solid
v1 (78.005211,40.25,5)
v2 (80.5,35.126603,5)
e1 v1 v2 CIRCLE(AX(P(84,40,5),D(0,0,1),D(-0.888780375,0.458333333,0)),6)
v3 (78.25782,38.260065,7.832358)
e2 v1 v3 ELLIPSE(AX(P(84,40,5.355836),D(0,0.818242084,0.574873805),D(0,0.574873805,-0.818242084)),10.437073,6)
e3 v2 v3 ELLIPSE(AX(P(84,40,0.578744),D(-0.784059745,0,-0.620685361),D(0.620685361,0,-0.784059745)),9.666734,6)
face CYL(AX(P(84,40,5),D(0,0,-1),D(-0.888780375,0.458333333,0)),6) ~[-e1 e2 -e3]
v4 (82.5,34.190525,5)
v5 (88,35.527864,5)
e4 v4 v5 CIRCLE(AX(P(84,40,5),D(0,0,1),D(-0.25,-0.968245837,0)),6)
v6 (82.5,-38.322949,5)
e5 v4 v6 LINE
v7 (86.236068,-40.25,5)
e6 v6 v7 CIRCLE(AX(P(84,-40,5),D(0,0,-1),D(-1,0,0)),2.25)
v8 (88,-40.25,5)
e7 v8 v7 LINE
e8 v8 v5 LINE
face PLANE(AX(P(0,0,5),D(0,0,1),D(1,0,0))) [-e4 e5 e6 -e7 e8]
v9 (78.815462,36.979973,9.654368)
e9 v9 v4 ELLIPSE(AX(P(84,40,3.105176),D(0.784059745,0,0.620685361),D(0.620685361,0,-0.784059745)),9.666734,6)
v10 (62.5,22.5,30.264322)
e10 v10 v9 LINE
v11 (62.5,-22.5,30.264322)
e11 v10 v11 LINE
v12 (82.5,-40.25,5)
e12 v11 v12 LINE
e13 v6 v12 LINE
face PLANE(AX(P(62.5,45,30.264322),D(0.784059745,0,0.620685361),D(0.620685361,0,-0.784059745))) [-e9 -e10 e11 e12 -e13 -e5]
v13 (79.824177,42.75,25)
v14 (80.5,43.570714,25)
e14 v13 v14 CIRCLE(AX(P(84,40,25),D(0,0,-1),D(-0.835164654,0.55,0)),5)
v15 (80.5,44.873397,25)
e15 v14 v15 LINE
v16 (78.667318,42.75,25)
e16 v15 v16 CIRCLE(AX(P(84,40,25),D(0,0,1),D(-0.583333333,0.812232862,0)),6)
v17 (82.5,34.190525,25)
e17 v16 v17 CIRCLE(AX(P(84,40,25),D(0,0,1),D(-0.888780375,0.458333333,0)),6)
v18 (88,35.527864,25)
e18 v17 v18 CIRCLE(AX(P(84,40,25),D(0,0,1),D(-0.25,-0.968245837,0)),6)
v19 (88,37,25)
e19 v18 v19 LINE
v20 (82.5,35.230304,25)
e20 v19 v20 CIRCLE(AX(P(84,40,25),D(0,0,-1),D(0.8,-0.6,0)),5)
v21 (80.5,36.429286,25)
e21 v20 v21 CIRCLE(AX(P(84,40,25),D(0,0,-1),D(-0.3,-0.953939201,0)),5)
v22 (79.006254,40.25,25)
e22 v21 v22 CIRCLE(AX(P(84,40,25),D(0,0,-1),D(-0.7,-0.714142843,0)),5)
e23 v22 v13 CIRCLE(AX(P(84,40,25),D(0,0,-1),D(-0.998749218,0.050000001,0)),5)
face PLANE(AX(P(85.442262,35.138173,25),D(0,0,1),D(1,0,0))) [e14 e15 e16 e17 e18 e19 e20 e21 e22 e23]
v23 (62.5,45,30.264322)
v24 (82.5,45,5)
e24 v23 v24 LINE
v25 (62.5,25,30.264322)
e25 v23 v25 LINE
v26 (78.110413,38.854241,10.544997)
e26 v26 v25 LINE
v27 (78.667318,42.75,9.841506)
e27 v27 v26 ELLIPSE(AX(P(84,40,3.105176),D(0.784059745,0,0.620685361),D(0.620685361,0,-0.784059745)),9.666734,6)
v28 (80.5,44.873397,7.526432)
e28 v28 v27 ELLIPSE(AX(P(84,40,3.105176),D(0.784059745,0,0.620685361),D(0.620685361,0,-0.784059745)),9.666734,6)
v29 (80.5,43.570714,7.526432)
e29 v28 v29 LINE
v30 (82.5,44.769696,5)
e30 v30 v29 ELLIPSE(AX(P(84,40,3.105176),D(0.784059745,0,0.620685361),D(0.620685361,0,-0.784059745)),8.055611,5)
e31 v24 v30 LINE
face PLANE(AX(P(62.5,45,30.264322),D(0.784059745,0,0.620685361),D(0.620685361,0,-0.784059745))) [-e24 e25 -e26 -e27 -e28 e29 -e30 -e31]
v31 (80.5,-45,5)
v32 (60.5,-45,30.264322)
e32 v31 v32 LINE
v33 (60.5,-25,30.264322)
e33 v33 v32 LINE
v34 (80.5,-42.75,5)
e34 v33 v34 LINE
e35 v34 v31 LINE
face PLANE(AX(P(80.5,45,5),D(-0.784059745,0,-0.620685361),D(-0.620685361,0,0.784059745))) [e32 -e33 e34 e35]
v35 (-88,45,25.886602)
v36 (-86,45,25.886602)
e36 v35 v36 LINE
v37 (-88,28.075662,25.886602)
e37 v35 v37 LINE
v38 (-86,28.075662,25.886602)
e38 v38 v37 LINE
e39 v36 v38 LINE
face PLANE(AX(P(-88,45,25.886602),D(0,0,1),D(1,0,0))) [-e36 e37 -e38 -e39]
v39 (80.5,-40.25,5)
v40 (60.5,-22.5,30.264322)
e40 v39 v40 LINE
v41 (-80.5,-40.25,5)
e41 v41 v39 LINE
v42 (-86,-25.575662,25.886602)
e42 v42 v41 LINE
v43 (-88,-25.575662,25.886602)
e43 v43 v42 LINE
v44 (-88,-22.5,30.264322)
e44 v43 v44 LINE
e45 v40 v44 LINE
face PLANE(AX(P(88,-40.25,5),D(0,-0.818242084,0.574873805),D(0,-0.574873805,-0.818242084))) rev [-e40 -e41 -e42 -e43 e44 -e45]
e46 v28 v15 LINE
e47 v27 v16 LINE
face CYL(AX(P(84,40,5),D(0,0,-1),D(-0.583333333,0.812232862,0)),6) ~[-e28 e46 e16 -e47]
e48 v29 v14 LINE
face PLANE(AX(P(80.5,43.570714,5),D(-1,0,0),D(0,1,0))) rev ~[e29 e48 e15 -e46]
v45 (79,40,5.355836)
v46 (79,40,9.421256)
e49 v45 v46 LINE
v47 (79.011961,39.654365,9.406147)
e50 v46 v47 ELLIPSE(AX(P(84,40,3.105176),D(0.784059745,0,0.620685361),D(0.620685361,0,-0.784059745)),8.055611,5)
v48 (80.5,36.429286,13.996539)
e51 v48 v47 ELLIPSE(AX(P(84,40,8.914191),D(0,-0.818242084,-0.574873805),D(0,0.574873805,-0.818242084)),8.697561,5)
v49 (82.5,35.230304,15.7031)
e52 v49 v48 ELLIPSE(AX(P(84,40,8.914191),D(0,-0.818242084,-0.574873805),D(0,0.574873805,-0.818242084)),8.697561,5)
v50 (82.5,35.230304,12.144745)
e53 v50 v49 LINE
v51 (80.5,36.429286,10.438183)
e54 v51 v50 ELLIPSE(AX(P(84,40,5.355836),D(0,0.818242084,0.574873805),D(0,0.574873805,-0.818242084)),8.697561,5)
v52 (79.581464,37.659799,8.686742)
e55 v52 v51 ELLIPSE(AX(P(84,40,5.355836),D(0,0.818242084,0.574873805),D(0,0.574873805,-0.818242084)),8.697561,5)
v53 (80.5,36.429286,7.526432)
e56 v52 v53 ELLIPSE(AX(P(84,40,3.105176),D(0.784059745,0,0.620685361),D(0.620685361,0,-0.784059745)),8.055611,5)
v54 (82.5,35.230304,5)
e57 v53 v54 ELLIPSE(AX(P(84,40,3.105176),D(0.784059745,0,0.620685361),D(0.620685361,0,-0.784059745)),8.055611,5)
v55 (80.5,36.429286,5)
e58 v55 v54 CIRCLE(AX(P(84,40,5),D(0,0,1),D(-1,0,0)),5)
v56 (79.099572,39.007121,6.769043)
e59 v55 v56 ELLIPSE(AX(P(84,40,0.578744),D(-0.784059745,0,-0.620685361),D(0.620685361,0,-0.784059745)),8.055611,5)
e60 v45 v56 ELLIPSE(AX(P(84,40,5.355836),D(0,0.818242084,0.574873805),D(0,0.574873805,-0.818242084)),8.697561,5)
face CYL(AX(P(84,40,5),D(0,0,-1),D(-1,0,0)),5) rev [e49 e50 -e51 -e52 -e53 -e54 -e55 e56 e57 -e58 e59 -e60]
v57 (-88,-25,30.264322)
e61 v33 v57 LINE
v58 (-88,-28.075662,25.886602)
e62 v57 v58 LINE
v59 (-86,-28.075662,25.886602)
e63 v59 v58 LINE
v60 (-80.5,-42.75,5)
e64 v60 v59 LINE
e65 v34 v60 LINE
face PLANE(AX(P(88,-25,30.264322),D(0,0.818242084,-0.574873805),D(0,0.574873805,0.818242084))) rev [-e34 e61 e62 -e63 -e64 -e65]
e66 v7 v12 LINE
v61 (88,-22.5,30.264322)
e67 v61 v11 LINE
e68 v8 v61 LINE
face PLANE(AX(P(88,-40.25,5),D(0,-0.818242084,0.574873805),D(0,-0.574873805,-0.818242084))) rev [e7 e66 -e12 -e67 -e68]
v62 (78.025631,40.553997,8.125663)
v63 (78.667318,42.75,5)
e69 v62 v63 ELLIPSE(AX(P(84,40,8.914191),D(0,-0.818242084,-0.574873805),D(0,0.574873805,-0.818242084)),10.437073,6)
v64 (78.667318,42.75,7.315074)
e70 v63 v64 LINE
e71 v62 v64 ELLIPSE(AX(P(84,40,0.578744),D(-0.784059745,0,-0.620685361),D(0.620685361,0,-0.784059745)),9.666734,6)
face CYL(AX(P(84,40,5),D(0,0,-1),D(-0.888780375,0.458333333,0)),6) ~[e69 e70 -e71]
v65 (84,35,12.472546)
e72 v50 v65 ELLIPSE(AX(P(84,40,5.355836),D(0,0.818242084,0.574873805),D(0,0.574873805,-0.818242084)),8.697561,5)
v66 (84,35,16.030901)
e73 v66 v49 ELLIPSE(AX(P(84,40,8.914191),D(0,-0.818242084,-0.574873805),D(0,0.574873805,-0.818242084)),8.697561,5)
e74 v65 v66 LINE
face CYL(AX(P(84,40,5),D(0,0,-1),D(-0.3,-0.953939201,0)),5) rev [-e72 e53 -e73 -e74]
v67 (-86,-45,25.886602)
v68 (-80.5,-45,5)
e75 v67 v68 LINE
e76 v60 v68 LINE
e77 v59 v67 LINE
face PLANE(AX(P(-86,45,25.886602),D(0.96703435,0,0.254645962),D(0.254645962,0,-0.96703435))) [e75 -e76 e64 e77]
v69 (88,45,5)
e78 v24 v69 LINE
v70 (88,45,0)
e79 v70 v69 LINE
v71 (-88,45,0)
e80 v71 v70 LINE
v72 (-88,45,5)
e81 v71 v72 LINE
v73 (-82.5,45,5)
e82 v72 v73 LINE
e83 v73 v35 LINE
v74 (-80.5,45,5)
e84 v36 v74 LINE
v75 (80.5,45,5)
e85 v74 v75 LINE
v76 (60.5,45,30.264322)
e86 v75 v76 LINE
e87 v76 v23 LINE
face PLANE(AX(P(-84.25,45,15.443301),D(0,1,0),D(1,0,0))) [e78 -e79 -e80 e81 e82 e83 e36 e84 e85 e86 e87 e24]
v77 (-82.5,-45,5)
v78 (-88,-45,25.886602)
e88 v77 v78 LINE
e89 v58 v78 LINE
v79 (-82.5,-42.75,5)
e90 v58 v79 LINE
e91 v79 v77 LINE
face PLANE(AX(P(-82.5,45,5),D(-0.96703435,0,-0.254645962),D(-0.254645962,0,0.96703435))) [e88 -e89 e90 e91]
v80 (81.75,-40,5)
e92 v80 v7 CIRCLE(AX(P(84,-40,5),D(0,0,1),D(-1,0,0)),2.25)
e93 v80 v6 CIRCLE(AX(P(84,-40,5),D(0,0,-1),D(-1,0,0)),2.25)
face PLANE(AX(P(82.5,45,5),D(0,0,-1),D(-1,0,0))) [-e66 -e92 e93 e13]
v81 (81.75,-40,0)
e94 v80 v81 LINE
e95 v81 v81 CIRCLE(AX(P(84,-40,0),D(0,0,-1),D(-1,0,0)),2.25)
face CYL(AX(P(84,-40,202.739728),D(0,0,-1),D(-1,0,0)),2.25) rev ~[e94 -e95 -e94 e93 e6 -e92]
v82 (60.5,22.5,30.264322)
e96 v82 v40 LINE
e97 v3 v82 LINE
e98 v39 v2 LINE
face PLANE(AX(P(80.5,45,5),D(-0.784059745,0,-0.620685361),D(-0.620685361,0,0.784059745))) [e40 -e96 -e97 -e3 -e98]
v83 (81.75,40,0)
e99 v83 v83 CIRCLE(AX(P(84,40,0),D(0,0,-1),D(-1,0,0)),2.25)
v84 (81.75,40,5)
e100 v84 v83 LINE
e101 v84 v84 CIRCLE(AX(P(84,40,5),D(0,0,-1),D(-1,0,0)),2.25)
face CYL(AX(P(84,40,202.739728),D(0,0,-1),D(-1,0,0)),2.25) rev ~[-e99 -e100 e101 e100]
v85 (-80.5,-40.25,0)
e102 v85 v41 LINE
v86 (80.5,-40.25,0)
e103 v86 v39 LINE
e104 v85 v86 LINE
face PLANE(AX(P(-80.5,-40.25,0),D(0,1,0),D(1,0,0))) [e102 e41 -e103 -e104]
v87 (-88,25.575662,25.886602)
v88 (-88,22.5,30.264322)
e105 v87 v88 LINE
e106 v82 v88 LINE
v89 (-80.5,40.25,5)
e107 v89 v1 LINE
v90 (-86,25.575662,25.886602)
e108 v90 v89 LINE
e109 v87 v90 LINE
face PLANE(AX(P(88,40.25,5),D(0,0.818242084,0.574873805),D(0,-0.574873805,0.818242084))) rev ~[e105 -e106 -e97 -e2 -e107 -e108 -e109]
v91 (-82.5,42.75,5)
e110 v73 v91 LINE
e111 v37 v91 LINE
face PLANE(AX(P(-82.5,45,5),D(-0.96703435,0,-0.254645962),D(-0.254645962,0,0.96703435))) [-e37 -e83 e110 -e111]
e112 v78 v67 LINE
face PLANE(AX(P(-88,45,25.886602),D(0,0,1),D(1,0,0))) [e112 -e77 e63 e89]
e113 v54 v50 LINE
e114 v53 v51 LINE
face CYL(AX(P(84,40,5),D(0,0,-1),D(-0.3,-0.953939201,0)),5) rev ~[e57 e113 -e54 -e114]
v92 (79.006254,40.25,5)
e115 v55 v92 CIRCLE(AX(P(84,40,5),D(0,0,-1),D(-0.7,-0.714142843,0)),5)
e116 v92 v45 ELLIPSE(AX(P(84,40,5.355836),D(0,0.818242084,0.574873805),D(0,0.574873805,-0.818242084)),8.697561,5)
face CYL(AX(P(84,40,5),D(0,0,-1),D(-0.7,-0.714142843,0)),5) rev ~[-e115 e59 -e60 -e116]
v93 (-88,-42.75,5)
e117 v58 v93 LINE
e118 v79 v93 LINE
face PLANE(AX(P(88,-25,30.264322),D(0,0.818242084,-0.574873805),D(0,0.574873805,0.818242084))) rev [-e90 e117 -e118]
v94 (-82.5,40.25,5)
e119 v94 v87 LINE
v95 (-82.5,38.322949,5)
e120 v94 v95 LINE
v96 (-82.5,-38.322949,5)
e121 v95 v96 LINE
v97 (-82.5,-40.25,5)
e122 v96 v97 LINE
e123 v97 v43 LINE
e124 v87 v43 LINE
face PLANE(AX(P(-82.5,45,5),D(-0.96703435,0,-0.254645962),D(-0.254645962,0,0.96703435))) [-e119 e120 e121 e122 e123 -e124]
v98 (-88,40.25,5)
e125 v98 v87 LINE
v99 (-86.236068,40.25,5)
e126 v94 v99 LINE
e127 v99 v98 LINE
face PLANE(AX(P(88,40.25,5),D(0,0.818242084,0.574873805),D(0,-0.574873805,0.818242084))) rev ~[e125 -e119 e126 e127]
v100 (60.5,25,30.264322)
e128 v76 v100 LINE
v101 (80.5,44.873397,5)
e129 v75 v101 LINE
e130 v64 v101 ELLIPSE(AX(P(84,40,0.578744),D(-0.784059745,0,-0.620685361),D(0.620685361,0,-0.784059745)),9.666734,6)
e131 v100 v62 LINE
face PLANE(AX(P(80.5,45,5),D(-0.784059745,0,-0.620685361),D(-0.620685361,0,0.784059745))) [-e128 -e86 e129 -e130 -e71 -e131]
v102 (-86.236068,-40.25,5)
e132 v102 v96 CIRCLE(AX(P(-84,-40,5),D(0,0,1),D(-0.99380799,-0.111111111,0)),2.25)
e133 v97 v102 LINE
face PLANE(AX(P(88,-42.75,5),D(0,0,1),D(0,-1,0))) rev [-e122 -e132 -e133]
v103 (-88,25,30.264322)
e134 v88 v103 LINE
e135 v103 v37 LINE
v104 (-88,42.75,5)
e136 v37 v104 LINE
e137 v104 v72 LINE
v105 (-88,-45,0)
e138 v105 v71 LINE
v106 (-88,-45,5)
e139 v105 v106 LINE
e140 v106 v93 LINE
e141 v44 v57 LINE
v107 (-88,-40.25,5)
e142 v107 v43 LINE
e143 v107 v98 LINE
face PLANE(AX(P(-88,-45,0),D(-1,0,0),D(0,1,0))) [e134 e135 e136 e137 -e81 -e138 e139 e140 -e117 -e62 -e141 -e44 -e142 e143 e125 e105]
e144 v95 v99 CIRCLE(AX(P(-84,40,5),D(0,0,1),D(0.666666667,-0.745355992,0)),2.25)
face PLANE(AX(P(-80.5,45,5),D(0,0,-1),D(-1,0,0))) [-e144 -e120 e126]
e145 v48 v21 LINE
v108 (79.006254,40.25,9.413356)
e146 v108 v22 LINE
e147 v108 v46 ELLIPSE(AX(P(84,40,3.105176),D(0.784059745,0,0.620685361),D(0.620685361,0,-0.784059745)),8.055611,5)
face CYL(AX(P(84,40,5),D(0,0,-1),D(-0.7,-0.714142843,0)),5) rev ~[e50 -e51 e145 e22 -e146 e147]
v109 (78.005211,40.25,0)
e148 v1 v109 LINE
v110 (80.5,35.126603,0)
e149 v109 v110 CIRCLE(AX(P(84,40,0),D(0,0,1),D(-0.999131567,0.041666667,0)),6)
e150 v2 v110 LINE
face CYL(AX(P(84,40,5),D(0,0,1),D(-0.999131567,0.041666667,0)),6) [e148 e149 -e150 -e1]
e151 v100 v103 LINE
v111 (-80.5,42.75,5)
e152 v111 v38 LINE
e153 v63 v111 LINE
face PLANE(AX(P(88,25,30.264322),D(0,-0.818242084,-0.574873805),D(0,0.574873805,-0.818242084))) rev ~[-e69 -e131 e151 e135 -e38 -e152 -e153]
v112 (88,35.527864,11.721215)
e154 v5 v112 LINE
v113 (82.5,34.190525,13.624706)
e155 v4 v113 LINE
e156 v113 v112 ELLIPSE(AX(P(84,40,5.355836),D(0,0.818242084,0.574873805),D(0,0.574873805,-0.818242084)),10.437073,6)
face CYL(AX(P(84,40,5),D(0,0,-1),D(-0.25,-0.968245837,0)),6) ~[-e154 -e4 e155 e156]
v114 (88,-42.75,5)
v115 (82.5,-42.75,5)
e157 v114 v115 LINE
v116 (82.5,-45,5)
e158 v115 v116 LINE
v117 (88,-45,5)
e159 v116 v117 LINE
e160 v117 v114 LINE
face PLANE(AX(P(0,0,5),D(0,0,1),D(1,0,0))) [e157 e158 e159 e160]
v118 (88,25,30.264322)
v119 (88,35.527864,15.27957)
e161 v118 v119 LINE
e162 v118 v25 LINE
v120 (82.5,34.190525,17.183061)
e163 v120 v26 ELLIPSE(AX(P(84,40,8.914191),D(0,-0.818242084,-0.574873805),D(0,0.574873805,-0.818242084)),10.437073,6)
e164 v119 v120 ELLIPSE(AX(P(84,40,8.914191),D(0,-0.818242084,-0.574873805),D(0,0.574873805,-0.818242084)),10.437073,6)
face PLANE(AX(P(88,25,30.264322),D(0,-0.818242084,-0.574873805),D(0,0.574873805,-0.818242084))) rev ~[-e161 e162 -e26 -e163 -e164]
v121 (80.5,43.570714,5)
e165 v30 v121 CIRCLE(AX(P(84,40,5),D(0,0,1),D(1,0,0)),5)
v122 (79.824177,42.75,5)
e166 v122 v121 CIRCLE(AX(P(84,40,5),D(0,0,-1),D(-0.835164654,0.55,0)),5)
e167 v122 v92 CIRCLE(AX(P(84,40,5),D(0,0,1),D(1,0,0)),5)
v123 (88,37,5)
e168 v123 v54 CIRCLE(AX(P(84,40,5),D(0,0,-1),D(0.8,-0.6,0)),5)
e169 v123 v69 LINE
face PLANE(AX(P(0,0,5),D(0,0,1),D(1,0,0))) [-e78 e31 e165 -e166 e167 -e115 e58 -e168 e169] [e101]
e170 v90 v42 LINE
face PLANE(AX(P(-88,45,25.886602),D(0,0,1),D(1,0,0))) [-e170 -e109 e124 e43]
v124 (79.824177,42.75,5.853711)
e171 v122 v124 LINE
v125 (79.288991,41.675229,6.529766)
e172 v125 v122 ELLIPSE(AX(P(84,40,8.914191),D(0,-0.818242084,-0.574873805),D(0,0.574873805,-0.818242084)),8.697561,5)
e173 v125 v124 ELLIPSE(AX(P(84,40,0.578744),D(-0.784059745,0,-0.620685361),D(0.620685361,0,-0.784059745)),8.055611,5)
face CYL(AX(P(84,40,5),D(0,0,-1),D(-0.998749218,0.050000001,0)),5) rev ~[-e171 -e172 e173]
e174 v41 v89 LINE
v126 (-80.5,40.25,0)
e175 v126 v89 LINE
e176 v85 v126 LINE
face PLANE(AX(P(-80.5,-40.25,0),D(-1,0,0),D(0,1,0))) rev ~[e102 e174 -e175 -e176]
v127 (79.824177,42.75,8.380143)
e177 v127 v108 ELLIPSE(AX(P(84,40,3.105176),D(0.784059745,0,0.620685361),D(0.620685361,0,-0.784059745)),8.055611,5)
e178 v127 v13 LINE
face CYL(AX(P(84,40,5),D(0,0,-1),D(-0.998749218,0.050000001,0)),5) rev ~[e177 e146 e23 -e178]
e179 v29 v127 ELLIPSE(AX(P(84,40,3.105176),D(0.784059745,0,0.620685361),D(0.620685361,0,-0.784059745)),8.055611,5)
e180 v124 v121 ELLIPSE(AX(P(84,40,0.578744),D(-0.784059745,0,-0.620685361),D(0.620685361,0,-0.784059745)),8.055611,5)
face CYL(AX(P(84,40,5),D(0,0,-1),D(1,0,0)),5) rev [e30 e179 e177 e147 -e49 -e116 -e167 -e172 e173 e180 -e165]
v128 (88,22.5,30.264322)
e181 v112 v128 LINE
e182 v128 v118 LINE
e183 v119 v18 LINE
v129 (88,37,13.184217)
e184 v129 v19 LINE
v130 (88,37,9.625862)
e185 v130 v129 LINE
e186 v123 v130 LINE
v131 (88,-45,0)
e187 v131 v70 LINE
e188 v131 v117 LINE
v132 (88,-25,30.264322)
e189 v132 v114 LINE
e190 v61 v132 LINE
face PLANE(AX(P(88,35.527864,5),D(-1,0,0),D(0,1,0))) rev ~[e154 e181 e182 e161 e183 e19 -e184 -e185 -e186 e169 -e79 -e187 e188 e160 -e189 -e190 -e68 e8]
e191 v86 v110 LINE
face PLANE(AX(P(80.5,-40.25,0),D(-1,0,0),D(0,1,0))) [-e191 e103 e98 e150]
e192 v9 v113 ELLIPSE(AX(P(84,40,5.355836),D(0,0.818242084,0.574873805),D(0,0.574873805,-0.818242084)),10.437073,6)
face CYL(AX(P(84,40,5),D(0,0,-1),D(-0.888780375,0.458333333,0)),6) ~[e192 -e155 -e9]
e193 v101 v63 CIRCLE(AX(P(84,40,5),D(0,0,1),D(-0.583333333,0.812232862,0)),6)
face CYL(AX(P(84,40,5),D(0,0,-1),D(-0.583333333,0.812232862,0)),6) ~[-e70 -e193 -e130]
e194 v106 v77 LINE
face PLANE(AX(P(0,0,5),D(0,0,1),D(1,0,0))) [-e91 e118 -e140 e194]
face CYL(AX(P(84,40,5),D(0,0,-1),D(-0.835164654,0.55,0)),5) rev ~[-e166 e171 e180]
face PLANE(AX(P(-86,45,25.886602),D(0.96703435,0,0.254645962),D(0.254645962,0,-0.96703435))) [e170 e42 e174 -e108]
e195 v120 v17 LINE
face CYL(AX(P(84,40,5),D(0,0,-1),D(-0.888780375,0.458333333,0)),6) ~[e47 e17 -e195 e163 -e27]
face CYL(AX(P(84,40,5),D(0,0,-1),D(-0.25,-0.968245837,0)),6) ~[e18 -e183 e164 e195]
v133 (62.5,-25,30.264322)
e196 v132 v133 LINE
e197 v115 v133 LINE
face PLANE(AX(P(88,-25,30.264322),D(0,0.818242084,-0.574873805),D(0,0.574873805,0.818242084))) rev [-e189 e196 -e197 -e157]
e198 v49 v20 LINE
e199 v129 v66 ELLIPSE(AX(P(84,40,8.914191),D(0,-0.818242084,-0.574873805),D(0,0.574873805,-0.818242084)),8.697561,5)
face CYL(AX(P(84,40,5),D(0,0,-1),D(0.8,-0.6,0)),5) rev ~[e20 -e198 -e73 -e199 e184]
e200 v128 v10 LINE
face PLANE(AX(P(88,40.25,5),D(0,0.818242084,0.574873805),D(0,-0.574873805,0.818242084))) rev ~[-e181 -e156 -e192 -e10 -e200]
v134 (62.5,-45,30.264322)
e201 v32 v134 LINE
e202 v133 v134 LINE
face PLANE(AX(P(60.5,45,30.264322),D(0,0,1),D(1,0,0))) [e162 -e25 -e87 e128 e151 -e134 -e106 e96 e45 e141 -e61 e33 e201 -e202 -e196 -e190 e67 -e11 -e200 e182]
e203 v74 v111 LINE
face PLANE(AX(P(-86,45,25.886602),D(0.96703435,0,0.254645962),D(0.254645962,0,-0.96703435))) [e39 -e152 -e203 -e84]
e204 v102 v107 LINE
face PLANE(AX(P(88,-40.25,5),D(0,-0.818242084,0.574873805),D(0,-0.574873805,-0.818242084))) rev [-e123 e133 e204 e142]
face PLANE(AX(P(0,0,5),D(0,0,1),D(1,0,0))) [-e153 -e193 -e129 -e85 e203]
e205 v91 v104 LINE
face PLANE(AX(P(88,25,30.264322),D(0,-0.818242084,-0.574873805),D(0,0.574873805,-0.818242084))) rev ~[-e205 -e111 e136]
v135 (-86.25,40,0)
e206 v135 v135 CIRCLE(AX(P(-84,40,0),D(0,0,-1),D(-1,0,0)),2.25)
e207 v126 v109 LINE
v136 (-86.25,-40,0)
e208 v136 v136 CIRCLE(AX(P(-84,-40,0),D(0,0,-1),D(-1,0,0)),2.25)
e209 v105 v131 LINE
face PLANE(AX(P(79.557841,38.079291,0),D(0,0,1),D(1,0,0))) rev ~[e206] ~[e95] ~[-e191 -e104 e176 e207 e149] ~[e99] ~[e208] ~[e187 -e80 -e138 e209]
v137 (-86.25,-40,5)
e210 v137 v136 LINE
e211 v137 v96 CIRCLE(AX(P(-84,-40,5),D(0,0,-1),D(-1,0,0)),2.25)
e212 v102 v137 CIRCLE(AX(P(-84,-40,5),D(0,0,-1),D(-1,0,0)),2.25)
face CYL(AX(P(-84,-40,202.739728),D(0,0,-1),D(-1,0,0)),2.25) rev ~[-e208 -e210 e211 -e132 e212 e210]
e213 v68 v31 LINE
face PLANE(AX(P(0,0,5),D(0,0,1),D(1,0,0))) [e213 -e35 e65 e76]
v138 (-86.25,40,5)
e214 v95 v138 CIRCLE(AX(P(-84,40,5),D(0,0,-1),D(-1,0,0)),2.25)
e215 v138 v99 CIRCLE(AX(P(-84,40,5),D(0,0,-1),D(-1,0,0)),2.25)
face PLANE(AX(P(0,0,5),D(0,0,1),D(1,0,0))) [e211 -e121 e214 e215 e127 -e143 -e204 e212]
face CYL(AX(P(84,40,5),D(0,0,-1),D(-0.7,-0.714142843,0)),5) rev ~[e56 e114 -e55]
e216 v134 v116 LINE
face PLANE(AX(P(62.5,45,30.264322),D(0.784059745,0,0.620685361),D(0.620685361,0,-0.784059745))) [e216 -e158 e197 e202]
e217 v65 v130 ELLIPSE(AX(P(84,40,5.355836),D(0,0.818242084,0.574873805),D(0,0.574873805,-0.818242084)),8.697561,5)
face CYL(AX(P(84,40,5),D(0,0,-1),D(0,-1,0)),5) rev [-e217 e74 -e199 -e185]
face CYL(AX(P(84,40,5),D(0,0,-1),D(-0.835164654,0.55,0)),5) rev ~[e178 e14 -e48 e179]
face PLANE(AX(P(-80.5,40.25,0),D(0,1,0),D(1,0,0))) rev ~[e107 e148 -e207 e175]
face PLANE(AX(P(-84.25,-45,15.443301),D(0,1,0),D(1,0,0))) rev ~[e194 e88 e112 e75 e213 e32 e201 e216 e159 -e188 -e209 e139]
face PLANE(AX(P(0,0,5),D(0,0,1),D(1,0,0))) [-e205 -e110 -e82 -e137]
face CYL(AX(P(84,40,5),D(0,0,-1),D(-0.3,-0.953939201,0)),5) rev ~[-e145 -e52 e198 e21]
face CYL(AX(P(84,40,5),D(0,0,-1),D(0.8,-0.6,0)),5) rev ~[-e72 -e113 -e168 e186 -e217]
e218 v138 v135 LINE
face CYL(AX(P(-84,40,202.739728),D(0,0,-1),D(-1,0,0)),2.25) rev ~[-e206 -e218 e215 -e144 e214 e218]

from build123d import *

# Parameters (mm, degrees)
SKETCH1_W            = 176
SKETCH1_H            = 90
SKETCH1_W_2          = 161
SKETCH1_H_2          = 80.5
BOSS_EXTRUDE1_DEPTH  = 5
M4_CLEARANCE_HOLE1_D = 4.5
BOSS_EXTRUDE2_DEPTH  = 90
BOSS_EXTRUDE11_DEPTH = 176
CUT_EXTRUDE1_DEPTH   = 20
BOSS_EXTRUDE12_DEPTH = 20
BOSS_EXTRUDE13_DEPTH = 5


with BuildPart() as part:
    # Sketch1 → Boss-Extrude1 (new body)
    with BuildSketch(Plane.XY):
        Rectangle(SKETCH1_W, SKETCH1_H)
        Rectangle(SKETCH1_W_2, SKETCH1_H_2, mode=Mode.SUBTRACT)
    extrude(amount=BOSS_EXTRUDE1_DEPTH)

    # M4 Clearance Hole1 (through all)
    with Locations(Plane.XY.offset(5)):
        with Locations((84, 40), (-84, -40), (-84, 40), (84, -40)):
            Hole(M4_CLEARANCE_HOLE1_D / 2)

    # Sketch7 → Boss-Extrude2 (add)
    with BuildSketch(Plane(origin=(0, 45, 0), x_dir=(1, 0, 0), z_dir=(0, 1, 0))):
        Polygon((-82.5, -5), (-88, -25.886602241), (-86, -25.886602241), (-80.5, -5), align=None)
        Polygon((80.5, -5), (60.5, -30.264322131), (62.5, -30.264322131), (82.5, -5), align=None)
    extrude(amount=-BOSS_EXTRUDE2_DEPTH)


with BuildPart() as body_2:
    # Sketch8 → Boss-Extrude11 (new body)
    with BuildSketch(Plane(origin=(88, 0, 0), x_dir=(0, 0, -1), z_dir=(1, 0, 0))):
        Polygon((-5, 40.25), (-30.264322131, 22.5), (-30.264322131, 25), (-5, 42.75), align=None)
    extrude(amount=-BOSS_EXTRUDE11_DEPTH)


with BuildPart() as body_3:
    # Mirror2: mirrored copy
    add(body_2.part.mirror(Plane.ZX))


with BuildPart() as body_2_1:
    add(body_2.part)

    # Combine2: union body 3, part
    add(body_3.part)
    add(part.part)

    # Sketch9 → Cut-Extrude1 (cut)
    with BuildSketch(Plane.XY.offset(5)):
        with BuildLine():
            Line((84, 37.75), (84, 35))
            ThreePointArc((84, 35), (86.236067977, 35.527864045), (88, 37))
            Line((88, 37), (88, 40.25))
            Line((88, 40.25), (86.236067977, 40.25))
            ThreePointArc((86.236067977, 40.25), (85.677050983, 38.5), (84, 37.75))
        make_face()
        with BuildLine():
            ThreePointArc((89, 40), (84, 45), (79, 40))
            Line((79, 40), (84, 40))
            Line((84, 40), (84, 37.75))
            ThreePointArc((84, 37.75), (85.677050983, 38.5), (86.236067977, 40.25))
            Line((86.236067977, 40.25), (88, 40.25))
            Line((88, 40.25), (88, 37))
            ThreePointArc((88, 37), (88.74341649, 38.41886117), (89, 40))
        make_face()
        with BuildLine():
            ThreePointArc((79, 40), (79.968871126, 37.041960108), (82.5, 35.230303993))
            Line((82.5, 35.230303993), (82.5, 38.322949017))
            ThreePointArc((82.5, 38.322949017), (83.197150298, 37.898112192), (84, 37.75))
            Line((84, 37.75), (84, 40))
            Line((84, 40), (79, 40))
        make_face()
        with BuildLine():
            Line((82.5, 38.322949017), (82.5, 35.230303993))
            ThreePointArc((82.5, 35.230303993), (83.241211504, 35.057911371), (84, 35))
            Line((84, 35), (84, 37.75))
            ThreePointArc((84, 37.75), (83.197150298, 37.898112192), (82.5, 38.322949017))
        make_face()
    extrude(amount=CUT_EXTRUDE1_DEPTH, mode=Mode.SUBTRACT)

    # Sketch10 → Boss-Extrude12 (add)
    with BuildSketch(Plane.XY.offset(5)):
        with BuildLine():
            Line((88, 35.527864045), (88, 37))
            ThreePointArc((88, 37), (85.531488162, 35.240321018), (82.5, 35.230303993))
            Line((82.5, 35.230303993), (82.5, 34.190524981))
            ThreePointArc((82.5, 34.190524981), (85.417610293, 34.169872981), (88, 35.527864045))
        make_face()
        with BuildLine():
            Line((82.5, 34.190524981), (82.5, 35.230303993))
            ThreePointArc((82.5, 35.230303993), (81.429126737, 35.711572472), (80.5, 36.429285786))
            ThreePointArc((80.5, 36.429285786), (79.343242015, 38.179394313), (79.006253911, 40.25))
            ThreePointArc((79.006253911, 40.25), (79.24786884, 41.554750602), (79.824176728, 42.75))
            Line((79.824176728, 42.75), (78.667317748, 42.75))
            ThreePointArc((78.667317748, 42.75), (78.523911995, 37.547968157), (82.5, 34.190524981))
        make_face()
        with BuildLine():
            ThreePointArc((79.824176728, 42.75), (80.140212612, 43.178370859), (80.5, 43.570714214))
            Line((80.5, 43.570714214), (80.5, 44.873397172))
            ThreePointArc((80.5, 44.873397172), (79.457833906, 43.920296822), (78.667317748, 42.75))
            Line((78.667317748, 42.75), (79.824176728, 42.75))
        make_face()
    extrude(amount=BOSS_EXTRUDE12_DEPTH)

    # Sketch11 → Boss-Extrude13 (add)
    with BuildSketch(Plane.XY.offset(5)):
        with BuildLine():
            Line((80.5, 35.126602828), (80.5, 40.25))
            Line((80.5, 40.25), (78.005210596, 40.25))
            ThreePointArc((78.005210596, 40.25), (78.605553216, 37.373225572), (80.5, 35.126602828))
        make_face()
    extrude(amount=-BOSS_EXTRUDE13_DEPTH)


solid = body_2_1.part
